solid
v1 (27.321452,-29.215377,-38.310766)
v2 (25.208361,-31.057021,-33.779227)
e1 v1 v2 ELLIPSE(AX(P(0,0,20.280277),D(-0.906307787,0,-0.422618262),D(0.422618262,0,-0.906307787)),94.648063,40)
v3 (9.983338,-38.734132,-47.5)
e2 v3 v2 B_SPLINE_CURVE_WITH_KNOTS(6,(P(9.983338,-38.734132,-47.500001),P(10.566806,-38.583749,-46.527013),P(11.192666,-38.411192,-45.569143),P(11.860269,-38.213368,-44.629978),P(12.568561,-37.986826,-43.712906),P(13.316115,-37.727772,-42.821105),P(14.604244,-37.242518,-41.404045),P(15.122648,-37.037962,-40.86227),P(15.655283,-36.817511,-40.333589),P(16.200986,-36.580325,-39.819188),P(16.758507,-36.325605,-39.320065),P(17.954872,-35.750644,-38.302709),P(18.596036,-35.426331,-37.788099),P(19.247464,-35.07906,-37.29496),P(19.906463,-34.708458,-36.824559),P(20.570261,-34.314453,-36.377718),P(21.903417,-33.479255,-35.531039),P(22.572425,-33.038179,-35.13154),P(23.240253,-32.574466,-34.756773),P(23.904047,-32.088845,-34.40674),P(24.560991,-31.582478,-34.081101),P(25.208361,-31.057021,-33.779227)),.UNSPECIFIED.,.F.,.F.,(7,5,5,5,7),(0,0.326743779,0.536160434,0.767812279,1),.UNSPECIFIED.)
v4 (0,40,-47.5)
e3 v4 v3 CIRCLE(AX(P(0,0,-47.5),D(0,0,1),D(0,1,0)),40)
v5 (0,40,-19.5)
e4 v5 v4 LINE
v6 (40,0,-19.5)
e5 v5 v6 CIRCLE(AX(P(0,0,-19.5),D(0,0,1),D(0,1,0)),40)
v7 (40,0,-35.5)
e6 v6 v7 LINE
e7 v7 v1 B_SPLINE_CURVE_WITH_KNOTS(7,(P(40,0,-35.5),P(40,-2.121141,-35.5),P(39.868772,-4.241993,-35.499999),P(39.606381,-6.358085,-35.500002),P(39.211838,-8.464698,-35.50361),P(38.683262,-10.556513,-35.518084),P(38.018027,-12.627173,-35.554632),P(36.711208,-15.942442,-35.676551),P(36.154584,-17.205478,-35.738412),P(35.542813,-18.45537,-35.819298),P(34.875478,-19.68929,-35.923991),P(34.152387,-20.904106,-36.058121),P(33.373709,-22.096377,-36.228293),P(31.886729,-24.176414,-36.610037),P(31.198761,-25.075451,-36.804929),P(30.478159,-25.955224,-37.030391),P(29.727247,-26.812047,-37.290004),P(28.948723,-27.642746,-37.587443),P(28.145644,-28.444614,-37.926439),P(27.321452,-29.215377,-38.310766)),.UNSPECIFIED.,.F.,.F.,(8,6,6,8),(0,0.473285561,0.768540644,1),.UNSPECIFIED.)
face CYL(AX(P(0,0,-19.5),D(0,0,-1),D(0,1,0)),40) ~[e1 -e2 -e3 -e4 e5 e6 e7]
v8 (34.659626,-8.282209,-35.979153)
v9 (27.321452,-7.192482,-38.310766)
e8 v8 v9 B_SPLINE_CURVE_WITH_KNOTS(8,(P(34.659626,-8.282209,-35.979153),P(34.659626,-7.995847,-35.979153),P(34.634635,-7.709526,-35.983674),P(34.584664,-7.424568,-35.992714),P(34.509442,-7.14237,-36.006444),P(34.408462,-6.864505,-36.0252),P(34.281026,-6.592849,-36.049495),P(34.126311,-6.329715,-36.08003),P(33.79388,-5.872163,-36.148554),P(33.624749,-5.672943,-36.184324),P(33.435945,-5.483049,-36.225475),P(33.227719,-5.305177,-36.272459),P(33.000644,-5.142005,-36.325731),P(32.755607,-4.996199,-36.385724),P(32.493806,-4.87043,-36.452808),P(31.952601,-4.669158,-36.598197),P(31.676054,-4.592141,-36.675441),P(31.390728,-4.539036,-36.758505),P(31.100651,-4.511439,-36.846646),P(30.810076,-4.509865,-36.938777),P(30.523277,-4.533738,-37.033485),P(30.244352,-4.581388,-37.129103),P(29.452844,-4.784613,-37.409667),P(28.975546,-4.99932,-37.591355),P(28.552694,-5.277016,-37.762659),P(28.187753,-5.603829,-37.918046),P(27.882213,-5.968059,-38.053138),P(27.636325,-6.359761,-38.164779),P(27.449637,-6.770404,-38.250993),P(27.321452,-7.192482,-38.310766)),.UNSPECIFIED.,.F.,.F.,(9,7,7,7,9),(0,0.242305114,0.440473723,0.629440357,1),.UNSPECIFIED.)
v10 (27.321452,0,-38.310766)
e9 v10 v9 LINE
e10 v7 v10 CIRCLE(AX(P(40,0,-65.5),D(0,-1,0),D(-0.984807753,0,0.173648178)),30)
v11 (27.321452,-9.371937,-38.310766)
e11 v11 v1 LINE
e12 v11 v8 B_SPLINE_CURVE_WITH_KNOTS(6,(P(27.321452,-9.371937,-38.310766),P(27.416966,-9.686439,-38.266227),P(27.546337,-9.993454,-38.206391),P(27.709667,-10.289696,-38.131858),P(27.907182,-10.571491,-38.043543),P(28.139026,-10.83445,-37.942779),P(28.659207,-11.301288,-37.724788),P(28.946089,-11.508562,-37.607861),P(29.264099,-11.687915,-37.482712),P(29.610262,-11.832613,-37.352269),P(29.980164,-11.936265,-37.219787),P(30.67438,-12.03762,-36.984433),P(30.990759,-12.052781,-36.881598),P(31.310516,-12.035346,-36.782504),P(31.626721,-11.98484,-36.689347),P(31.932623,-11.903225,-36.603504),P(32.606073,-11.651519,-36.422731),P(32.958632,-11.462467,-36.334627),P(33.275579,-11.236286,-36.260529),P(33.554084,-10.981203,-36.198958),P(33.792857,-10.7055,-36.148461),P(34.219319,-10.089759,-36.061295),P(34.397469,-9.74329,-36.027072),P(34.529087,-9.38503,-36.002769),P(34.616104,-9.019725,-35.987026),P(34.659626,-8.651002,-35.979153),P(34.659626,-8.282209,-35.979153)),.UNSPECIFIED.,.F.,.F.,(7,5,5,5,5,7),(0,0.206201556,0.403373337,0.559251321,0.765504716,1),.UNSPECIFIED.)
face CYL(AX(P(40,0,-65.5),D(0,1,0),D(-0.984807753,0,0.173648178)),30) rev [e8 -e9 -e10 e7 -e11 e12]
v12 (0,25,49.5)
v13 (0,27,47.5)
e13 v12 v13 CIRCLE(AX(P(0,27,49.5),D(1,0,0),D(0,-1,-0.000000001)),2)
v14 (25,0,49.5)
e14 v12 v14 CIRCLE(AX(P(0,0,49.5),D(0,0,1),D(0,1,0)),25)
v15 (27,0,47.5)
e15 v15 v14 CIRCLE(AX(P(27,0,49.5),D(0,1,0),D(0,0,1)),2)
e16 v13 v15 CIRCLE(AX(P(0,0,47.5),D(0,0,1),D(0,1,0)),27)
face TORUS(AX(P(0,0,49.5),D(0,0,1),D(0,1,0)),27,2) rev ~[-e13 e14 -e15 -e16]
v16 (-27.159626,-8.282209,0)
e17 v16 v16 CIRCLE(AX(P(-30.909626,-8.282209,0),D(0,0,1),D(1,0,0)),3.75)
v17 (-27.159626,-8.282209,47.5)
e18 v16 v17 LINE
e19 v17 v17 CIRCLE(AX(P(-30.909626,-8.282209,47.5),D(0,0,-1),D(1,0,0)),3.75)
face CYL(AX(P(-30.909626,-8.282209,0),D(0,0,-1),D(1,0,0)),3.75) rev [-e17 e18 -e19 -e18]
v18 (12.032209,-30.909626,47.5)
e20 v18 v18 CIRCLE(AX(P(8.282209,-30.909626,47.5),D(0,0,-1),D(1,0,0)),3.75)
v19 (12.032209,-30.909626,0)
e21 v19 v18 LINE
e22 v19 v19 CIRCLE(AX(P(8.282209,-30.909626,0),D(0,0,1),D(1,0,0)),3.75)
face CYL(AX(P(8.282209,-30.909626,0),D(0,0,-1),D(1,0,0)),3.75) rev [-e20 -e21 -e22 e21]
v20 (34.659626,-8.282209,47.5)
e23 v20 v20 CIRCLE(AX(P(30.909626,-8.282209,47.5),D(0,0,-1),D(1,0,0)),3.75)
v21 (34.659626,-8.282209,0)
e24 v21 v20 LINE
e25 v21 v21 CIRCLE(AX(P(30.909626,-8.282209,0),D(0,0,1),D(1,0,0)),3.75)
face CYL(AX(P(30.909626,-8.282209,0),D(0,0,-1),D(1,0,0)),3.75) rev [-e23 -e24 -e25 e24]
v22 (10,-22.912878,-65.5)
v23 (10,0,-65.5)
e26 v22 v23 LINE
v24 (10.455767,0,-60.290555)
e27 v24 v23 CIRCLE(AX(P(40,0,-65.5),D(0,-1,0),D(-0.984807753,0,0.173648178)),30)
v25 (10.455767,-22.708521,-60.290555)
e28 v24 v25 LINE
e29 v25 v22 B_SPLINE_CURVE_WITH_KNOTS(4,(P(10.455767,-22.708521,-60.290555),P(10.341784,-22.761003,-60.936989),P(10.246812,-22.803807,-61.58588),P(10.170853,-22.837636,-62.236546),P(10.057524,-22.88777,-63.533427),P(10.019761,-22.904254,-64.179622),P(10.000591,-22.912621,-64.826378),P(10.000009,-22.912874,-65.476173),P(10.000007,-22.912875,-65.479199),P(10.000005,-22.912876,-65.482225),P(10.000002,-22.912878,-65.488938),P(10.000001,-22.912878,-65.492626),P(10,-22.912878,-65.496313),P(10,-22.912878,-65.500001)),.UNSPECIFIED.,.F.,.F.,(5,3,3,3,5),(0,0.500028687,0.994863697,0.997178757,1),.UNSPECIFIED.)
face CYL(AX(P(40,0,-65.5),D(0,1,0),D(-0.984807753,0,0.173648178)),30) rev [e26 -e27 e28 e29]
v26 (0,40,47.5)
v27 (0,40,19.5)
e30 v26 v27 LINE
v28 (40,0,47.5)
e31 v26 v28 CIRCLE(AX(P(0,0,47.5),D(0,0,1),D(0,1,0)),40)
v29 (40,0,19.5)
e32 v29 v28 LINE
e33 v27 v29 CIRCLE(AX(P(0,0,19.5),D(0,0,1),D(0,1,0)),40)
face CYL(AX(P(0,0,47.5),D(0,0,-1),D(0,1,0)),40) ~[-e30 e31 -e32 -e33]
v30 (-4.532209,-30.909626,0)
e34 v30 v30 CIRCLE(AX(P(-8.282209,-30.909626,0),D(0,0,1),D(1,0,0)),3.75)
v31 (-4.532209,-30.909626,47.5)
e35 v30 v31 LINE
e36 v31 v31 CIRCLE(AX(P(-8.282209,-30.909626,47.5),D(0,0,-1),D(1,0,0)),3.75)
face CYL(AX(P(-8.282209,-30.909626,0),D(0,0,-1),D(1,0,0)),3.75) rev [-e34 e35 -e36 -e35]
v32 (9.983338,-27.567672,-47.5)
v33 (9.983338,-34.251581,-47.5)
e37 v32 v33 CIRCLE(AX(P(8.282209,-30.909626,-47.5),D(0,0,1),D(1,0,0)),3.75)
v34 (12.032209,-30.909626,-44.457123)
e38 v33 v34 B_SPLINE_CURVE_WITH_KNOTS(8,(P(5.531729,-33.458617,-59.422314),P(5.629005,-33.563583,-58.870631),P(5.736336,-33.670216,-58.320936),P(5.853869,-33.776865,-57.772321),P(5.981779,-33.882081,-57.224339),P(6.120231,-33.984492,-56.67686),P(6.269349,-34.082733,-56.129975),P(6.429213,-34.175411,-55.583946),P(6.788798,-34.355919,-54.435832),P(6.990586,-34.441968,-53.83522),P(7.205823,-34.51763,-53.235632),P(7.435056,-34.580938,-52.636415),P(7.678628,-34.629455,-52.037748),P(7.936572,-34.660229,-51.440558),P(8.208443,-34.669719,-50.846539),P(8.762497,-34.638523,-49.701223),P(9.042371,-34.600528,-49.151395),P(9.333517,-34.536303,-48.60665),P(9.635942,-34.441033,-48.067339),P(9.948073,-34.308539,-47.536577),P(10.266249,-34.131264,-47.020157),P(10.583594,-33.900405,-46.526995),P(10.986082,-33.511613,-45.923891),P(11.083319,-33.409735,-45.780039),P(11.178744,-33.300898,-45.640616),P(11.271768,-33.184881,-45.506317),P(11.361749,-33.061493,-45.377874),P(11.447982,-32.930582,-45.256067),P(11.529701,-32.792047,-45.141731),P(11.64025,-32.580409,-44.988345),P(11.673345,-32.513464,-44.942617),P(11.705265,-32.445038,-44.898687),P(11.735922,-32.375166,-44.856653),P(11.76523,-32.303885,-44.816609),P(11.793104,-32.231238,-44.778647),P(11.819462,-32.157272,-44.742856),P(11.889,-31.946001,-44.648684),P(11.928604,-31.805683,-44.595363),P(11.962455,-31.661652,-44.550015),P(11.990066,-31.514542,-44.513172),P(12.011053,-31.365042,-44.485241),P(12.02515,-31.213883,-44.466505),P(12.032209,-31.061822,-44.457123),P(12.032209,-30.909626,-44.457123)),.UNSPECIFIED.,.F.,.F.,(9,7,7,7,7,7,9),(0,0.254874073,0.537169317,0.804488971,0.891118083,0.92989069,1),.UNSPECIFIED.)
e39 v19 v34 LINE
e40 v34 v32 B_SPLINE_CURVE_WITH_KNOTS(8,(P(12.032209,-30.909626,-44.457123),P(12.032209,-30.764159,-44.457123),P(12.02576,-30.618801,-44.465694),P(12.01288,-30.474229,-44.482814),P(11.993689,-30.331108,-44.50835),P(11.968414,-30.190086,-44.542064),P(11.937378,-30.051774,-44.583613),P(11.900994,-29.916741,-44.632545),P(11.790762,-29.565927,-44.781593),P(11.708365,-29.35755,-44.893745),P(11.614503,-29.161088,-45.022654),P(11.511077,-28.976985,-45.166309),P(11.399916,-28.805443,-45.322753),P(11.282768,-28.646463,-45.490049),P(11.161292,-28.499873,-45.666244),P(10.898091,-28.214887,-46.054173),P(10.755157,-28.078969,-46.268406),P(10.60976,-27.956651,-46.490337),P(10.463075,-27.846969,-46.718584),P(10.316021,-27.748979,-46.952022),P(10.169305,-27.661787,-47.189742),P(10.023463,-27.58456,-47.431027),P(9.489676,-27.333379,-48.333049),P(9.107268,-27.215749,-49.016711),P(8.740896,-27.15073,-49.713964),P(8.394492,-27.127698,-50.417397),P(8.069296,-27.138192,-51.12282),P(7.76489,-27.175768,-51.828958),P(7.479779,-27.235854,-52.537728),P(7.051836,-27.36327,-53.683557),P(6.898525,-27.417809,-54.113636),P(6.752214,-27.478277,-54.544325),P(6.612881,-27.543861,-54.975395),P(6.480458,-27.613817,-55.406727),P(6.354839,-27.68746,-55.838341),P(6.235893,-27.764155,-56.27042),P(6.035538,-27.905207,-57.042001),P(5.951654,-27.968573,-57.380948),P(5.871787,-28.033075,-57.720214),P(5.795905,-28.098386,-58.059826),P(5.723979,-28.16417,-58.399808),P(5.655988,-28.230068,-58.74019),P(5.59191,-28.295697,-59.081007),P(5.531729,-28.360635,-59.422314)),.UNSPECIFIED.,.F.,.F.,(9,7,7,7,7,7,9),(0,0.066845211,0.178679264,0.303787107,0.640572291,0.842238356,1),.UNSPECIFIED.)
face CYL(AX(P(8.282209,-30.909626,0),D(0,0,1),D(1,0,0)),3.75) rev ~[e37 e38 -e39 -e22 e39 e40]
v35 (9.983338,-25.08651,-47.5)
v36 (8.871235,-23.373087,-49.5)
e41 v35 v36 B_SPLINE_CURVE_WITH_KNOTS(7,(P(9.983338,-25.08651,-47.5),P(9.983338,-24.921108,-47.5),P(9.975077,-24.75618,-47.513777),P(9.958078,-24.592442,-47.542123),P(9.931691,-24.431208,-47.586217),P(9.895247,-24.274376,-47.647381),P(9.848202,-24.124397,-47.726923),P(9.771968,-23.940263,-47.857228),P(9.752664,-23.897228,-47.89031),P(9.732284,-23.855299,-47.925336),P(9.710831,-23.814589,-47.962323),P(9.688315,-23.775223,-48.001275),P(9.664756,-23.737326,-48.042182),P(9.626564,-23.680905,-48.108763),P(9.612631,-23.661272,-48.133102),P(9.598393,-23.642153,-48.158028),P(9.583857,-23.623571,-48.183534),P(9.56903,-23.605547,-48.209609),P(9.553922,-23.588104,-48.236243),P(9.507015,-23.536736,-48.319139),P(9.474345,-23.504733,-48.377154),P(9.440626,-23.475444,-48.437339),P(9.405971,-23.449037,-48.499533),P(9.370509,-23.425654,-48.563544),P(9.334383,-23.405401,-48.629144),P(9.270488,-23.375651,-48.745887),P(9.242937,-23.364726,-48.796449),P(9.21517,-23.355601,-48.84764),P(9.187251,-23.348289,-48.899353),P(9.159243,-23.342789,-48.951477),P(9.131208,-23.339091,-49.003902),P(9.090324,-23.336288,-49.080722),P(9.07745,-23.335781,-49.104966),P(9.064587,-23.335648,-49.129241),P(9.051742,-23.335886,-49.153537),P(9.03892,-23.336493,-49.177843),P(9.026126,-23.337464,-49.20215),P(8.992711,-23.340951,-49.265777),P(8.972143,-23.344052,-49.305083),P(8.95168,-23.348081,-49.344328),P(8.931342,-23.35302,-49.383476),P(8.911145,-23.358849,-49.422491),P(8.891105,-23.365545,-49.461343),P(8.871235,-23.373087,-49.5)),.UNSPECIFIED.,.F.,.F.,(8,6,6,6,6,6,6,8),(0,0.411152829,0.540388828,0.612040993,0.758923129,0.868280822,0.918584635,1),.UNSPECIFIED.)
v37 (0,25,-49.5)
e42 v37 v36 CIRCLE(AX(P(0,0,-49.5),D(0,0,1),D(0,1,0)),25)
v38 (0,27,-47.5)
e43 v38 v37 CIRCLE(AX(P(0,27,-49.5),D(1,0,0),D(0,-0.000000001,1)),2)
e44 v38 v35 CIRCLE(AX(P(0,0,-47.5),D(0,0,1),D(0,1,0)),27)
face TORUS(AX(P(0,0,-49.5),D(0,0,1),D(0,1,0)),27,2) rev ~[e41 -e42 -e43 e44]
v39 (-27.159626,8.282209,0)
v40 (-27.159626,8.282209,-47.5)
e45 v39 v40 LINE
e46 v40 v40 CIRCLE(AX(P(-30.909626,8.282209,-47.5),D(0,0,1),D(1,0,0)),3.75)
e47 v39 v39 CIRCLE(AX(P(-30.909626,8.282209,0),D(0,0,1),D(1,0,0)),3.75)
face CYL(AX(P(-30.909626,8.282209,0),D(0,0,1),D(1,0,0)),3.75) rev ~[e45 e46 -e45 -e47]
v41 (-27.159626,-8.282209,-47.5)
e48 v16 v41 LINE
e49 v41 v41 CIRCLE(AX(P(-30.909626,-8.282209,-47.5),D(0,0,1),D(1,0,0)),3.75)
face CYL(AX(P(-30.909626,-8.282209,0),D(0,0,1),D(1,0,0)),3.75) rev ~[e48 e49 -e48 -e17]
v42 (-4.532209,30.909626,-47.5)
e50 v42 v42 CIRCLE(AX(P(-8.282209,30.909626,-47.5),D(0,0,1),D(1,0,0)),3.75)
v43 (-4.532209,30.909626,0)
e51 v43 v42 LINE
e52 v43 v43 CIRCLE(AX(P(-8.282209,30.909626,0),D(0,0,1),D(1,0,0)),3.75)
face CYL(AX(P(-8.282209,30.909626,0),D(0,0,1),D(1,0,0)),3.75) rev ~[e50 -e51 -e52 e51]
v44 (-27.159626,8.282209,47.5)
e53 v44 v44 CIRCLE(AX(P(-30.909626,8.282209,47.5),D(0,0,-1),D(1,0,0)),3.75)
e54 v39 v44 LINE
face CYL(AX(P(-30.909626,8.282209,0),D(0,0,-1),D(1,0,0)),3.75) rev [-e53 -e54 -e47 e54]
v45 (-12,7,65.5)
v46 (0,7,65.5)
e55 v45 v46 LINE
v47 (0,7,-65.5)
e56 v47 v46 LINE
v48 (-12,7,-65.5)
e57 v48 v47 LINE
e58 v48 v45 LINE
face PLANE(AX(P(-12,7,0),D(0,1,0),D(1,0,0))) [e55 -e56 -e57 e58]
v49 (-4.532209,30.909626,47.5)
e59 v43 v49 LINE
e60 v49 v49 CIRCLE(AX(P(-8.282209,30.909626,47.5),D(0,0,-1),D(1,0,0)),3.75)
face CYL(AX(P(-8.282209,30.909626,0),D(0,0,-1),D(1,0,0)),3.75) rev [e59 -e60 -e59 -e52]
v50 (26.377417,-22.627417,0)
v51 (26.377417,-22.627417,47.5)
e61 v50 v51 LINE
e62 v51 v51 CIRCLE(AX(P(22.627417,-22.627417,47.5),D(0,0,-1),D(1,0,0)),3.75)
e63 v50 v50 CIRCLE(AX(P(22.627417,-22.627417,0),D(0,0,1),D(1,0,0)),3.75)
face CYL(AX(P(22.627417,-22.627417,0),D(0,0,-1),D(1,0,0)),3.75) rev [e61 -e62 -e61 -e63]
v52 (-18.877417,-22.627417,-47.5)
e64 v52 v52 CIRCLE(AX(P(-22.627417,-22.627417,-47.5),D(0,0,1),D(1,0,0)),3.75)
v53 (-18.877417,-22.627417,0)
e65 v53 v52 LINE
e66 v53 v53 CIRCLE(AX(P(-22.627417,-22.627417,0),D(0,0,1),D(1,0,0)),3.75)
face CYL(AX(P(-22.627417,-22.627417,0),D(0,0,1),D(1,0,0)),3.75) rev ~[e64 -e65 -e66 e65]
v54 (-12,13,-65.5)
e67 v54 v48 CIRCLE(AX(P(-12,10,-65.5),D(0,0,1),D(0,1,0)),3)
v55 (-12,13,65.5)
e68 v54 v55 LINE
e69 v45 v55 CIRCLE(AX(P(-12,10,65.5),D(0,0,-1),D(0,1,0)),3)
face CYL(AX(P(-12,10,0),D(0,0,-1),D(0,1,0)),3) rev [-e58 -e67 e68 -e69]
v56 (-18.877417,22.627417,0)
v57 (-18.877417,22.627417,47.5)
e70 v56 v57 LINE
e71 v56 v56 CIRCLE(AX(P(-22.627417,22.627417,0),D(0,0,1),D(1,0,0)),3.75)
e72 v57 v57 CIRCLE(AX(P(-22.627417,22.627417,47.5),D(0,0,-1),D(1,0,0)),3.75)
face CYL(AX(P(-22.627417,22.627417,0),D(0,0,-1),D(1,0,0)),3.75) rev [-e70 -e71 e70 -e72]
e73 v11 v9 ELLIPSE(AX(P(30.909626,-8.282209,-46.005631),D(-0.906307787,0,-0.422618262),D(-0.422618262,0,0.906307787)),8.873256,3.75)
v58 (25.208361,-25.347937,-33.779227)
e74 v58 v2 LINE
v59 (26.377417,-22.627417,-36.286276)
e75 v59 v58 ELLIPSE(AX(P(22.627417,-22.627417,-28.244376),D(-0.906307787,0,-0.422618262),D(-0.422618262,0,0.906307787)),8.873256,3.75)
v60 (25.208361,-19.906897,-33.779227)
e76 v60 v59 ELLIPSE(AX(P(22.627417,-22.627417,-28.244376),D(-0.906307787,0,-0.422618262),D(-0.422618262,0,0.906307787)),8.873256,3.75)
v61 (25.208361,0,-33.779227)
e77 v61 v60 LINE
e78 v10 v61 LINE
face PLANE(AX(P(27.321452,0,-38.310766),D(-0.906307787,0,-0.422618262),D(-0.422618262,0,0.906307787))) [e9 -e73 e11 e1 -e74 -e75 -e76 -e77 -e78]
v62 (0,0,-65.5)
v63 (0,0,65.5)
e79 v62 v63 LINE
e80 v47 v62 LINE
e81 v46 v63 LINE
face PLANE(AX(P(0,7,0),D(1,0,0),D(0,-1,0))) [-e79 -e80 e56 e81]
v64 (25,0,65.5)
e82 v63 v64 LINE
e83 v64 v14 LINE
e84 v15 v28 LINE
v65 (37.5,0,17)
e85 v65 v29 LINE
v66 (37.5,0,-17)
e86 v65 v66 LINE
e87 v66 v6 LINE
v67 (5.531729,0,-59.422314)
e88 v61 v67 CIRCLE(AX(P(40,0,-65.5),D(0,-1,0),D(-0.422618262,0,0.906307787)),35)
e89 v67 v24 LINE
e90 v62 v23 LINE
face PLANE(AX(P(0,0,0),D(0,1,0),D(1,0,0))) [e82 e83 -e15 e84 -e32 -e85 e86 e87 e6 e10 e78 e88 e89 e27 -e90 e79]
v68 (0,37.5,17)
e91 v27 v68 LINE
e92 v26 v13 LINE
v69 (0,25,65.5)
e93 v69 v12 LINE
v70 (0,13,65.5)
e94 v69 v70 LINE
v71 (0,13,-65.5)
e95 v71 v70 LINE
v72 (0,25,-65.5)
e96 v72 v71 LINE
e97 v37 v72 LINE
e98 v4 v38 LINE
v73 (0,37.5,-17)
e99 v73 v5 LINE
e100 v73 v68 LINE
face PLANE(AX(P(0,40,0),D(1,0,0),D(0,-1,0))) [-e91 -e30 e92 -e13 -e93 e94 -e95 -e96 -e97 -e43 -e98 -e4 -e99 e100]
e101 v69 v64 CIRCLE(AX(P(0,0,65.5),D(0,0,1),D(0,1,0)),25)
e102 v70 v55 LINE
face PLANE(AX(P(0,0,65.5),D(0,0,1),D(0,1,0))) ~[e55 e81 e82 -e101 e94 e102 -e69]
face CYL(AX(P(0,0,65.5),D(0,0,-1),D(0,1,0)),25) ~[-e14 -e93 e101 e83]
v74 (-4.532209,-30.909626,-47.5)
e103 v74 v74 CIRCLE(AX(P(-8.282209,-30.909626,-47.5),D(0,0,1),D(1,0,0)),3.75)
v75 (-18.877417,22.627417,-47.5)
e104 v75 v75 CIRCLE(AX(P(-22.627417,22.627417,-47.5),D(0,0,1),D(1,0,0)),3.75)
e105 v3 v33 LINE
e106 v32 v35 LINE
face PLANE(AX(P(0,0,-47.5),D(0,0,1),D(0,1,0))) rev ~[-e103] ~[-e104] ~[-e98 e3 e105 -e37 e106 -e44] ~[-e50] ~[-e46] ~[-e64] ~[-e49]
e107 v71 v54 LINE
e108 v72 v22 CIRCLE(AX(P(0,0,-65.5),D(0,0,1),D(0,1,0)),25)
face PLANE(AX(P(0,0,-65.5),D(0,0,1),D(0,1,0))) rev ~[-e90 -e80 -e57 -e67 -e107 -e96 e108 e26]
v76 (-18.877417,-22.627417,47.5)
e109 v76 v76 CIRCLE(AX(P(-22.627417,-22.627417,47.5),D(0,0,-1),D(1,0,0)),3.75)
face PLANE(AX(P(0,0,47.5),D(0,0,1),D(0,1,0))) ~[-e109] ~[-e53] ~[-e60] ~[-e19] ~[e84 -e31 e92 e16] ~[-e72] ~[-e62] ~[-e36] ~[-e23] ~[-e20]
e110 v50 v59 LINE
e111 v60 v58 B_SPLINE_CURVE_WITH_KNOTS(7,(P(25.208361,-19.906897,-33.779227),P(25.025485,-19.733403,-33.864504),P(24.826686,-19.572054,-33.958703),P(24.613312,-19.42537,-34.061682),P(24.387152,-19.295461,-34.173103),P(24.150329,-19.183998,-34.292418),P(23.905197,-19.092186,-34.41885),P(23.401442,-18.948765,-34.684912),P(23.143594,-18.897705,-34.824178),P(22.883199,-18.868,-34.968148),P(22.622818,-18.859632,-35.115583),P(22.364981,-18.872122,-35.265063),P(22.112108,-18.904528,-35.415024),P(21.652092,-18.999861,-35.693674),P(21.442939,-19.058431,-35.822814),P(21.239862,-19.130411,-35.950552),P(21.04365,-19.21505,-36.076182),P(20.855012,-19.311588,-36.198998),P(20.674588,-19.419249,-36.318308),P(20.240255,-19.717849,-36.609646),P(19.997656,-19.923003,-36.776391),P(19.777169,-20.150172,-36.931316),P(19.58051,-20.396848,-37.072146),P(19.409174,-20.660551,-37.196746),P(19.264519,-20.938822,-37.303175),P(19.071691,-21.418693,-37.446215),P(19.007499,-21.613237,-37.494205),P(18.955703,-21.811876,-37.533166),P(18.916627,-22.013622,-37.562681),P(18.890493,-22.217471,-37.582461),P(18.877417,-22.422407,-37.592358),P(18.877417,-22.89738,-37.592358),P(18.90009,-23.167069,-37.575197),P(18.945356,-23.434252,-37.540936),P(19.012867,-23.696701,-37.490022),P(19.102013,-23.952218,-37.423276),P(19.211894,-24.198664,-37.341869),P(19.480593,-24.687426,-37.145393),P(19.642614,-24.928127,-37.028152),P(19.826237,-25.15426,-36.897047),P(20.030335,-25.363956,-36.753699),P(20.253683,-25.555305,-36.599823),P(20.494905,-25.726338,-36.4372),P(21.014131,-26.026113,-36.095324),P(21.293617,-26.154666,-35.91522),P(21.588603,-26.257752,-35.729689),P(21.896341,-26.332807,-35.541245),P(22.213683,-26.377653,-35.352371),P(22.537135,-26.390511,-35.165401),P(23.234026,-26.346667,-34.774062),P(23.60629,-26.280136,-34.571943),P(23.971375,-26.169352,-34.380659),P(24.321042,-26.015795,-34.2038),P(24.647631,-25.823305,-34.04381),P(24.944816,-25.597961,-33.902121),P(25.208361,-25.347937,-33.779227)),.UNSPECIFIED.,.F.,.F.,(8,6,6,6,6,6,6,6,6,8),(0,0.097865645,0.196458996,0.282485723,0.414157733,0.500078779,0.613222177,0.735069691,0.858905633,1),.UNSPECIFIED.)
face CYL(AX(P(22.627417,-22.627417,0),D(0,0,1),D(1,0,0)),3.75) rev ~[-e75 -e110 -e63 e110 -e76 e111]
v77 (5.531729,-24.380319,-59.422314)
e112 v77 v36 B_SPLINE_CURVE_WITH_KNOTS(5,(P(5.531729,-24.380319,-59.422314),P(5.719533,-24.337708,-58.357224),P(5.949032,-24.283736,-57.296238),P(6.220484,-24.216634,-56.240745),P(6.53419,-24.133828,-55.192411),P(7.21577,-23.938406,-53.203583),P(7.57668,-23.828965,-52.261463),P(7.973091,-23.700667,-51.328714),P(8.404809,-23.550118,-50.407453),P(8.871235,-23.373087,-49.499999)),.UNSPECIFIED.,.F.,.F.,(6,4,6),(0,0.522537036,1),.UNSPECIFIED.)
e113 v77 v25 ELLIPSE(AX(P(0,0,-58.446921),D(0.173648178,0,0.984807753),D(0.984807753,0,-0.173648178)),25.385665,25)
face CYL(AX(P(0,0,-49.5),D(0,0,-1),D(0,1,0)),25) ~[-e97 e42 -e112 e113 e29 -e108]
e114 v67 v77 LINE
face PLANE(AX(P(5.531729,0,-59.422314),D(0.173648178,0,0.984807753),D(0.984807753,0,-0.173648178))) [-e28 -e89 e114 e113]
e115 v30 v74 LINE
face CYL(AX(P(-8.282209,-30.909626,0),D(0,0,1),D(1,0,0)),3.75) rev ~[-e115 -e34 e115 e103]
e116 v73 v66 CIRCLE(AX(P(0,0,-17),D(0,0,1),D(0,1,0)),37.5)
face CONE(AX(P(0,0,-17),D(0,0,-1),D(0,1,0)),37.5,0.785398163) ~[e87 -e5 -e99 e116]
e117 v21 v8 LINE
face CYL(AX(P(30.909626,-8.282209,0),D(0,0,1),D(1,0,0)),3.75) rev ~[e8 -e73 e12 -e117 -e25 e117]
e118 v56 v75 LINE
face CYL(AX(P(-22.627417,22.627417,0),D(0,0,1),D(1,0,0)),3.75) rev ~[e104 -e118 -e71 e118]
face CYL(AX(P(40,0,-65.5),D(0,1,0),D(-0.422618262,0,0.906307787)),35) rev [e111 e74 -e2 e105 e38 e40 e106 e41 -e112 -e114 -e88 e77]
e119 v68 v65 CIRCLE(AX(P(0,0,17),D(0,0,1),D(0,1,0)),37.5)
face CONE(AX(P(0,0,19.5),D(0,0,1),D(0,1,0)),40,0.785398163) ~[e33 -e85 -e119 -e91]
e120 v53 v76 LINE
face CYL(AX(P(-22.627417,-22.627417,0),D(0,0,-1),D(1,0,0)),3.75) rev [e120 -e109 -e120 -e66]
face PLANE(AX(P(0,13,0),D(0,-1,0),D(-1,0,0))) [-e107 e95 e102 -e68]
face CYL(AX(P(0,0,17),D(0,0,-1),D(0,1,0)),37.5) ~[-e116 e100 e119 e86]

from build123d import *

# Parameters (mm, degrees)
CUT_EXTRUDE1_DEPTH      = 66.5
CUT_EXTRUDE1_DEPTH_BACK = 66.5
CUT_EXTRUDE3_DEPTH      = 41
SKETCH4_R               = 3.75
CUT_EXTRUDE4_DEPTH      = 66.5000001
CUT_EXTRUDE4_DEPTH_BACK = 66.5000001


with BuildPart() as part:
    # Sketch1 → Revolve1 (revolve)
    with BuildSketch(Plane(origin=(0, 0, 0), x_dir=(0, 0, -1), z_dir=(1, 0, 0))):
        with BuildLine():
            Line((65.5, 0), (-65.5, 0))
            Line((-65.5, 0), (-65.5, 25))
            Line((-65.5, 25), (-49.5, 25))
            ThreePointArc((-49.5, 25), (-48.085786438, 25.585786438), (-47.5, 27))
            Line((-47.5, 27), (-47.5, 40))
            Line((-47.5, 40), (-19.5, 40))
            Line((-19.5, 40), (-17, 37.5))
            Line((-17, 37.5), (17, 37.5))
            Line((17, 37.5), (19.5, 40))
            Line((19.5, 40), (47.5, 40))
            Line((47.5, 40), (47.5, 27))
            ThreePointArc((47.5, 27), (48.085786438, 25.585786438), (49.5, 25))
            Line((49.5, 25), (65.5, 25))
            Line((65.5, 25), (65.5, 0))
        make_face()
    revolve(axis=Axis((0, 0, -65.5), (0, 0, 1)))

    # Sketch2 → Cut-Extrude1 (cut, two sides)
    with BuildSketch(Plane.XY) as cut_extrude1_sk:
        with BuildLine():
            Line((0, 40), (0, 13))
            Line((0, 13), (-12, 13))
            ThreePointArc((-12, 13), (-15, 10), (-12, 7))
            Line((-12, 7), (0, 7))
            Line((0, 7), (0, 0))
            Line((0, 0), (40, 0))
            ThreePointArc((40, 0), (28.284271247, 28.284271247), (0, 40))
        make_face()
    extrude(amount=CUT_EXTRUDE1_DEPTH, mode=Mode.SUBTRACT)
    extrude(cut_extrude1_sk.sketch, amount=-CUT_EXTRUDE1_DEPTH_BACK, mode=Mode.SUBTRACT)

    # Sketch3 → Cut-Extrude3 (cut, through all)
    with BuildSketch(Plane(origin=(0, 0, 0), x_dir=(1, 0, 0), z_dir=(0, 1, 0))):
        with BuildLine():
            Line((27.321452148, 38.310766389), (25.208360839, 33.779227454))
            ThreePointArc((25.208360839, 33.779227454), (12.23263309, 44.193349985), (5.531728645, 59.422313782))
            Line((5.531728645, 59.422313782), (10.45576741, 60.29055467))
            ThreePointArc((10.45576741, 60.29055467), (63.800600209, 83.76284287), (27.321452148, 38.310766389))
        make_face()
    extrude(amount=-CUT_EXTRUDE3_DEPTH, mode=Mode.SUBTRACT)

    # Sketch4 → Cut-Extrude4 (cut, two sides)
    with BuildSketch(Plane.XY) as cut_extrude4_sk:
        with Locations((-8.282209443, 30.909626441)):
            Circle(SKETCH4_R)
        with Locations((8.282209443, 30.909626441)):
            Circle(SKETCH4_R)
        with Locations((22.627416998, 22.627416998)):
            Circle(SKETCH4_R)
        with Locations((30.909626441, 8.282209443)):
            Circle(SKETCH4_R)
        with Locations((30.909626441, -8.282209443)):
            Circle(SKETCH4_R)
        with Locations((22.627416998, -22.627416998)):
            Circle(SKETCH4_R)
        with Locations((8.282209443, -30.909626441)):
            Circle(SKETCH4_R)
        with Locations((-8.282209443, -30.909626441)):
            Circle(SKETCH4_R)
        with Locations((-22.627416998, -22.627416998)):
            Circle(SKETCH4_R)
        with Locations((-30.909626441, -8.282209443)):
            Circle(SKETCH4_R)
        with Locations((-30.909626441, 8.282209443)):
            Circle(SKETCH4_R)
        with Locations((-22.627416998, 22.627416998)):
            Circle(SKETCH4_R)
    extrude(amount=CUT_EXTRUDE4_DEPTH, mode=Mode.SUBTRACT)
    extrude(cut_extrude4_sk.sketch, amount=-CUT_EXTRUDE4_DEPTH_BACK, mode=Mode.SUBTRACT)


solid = part.part
